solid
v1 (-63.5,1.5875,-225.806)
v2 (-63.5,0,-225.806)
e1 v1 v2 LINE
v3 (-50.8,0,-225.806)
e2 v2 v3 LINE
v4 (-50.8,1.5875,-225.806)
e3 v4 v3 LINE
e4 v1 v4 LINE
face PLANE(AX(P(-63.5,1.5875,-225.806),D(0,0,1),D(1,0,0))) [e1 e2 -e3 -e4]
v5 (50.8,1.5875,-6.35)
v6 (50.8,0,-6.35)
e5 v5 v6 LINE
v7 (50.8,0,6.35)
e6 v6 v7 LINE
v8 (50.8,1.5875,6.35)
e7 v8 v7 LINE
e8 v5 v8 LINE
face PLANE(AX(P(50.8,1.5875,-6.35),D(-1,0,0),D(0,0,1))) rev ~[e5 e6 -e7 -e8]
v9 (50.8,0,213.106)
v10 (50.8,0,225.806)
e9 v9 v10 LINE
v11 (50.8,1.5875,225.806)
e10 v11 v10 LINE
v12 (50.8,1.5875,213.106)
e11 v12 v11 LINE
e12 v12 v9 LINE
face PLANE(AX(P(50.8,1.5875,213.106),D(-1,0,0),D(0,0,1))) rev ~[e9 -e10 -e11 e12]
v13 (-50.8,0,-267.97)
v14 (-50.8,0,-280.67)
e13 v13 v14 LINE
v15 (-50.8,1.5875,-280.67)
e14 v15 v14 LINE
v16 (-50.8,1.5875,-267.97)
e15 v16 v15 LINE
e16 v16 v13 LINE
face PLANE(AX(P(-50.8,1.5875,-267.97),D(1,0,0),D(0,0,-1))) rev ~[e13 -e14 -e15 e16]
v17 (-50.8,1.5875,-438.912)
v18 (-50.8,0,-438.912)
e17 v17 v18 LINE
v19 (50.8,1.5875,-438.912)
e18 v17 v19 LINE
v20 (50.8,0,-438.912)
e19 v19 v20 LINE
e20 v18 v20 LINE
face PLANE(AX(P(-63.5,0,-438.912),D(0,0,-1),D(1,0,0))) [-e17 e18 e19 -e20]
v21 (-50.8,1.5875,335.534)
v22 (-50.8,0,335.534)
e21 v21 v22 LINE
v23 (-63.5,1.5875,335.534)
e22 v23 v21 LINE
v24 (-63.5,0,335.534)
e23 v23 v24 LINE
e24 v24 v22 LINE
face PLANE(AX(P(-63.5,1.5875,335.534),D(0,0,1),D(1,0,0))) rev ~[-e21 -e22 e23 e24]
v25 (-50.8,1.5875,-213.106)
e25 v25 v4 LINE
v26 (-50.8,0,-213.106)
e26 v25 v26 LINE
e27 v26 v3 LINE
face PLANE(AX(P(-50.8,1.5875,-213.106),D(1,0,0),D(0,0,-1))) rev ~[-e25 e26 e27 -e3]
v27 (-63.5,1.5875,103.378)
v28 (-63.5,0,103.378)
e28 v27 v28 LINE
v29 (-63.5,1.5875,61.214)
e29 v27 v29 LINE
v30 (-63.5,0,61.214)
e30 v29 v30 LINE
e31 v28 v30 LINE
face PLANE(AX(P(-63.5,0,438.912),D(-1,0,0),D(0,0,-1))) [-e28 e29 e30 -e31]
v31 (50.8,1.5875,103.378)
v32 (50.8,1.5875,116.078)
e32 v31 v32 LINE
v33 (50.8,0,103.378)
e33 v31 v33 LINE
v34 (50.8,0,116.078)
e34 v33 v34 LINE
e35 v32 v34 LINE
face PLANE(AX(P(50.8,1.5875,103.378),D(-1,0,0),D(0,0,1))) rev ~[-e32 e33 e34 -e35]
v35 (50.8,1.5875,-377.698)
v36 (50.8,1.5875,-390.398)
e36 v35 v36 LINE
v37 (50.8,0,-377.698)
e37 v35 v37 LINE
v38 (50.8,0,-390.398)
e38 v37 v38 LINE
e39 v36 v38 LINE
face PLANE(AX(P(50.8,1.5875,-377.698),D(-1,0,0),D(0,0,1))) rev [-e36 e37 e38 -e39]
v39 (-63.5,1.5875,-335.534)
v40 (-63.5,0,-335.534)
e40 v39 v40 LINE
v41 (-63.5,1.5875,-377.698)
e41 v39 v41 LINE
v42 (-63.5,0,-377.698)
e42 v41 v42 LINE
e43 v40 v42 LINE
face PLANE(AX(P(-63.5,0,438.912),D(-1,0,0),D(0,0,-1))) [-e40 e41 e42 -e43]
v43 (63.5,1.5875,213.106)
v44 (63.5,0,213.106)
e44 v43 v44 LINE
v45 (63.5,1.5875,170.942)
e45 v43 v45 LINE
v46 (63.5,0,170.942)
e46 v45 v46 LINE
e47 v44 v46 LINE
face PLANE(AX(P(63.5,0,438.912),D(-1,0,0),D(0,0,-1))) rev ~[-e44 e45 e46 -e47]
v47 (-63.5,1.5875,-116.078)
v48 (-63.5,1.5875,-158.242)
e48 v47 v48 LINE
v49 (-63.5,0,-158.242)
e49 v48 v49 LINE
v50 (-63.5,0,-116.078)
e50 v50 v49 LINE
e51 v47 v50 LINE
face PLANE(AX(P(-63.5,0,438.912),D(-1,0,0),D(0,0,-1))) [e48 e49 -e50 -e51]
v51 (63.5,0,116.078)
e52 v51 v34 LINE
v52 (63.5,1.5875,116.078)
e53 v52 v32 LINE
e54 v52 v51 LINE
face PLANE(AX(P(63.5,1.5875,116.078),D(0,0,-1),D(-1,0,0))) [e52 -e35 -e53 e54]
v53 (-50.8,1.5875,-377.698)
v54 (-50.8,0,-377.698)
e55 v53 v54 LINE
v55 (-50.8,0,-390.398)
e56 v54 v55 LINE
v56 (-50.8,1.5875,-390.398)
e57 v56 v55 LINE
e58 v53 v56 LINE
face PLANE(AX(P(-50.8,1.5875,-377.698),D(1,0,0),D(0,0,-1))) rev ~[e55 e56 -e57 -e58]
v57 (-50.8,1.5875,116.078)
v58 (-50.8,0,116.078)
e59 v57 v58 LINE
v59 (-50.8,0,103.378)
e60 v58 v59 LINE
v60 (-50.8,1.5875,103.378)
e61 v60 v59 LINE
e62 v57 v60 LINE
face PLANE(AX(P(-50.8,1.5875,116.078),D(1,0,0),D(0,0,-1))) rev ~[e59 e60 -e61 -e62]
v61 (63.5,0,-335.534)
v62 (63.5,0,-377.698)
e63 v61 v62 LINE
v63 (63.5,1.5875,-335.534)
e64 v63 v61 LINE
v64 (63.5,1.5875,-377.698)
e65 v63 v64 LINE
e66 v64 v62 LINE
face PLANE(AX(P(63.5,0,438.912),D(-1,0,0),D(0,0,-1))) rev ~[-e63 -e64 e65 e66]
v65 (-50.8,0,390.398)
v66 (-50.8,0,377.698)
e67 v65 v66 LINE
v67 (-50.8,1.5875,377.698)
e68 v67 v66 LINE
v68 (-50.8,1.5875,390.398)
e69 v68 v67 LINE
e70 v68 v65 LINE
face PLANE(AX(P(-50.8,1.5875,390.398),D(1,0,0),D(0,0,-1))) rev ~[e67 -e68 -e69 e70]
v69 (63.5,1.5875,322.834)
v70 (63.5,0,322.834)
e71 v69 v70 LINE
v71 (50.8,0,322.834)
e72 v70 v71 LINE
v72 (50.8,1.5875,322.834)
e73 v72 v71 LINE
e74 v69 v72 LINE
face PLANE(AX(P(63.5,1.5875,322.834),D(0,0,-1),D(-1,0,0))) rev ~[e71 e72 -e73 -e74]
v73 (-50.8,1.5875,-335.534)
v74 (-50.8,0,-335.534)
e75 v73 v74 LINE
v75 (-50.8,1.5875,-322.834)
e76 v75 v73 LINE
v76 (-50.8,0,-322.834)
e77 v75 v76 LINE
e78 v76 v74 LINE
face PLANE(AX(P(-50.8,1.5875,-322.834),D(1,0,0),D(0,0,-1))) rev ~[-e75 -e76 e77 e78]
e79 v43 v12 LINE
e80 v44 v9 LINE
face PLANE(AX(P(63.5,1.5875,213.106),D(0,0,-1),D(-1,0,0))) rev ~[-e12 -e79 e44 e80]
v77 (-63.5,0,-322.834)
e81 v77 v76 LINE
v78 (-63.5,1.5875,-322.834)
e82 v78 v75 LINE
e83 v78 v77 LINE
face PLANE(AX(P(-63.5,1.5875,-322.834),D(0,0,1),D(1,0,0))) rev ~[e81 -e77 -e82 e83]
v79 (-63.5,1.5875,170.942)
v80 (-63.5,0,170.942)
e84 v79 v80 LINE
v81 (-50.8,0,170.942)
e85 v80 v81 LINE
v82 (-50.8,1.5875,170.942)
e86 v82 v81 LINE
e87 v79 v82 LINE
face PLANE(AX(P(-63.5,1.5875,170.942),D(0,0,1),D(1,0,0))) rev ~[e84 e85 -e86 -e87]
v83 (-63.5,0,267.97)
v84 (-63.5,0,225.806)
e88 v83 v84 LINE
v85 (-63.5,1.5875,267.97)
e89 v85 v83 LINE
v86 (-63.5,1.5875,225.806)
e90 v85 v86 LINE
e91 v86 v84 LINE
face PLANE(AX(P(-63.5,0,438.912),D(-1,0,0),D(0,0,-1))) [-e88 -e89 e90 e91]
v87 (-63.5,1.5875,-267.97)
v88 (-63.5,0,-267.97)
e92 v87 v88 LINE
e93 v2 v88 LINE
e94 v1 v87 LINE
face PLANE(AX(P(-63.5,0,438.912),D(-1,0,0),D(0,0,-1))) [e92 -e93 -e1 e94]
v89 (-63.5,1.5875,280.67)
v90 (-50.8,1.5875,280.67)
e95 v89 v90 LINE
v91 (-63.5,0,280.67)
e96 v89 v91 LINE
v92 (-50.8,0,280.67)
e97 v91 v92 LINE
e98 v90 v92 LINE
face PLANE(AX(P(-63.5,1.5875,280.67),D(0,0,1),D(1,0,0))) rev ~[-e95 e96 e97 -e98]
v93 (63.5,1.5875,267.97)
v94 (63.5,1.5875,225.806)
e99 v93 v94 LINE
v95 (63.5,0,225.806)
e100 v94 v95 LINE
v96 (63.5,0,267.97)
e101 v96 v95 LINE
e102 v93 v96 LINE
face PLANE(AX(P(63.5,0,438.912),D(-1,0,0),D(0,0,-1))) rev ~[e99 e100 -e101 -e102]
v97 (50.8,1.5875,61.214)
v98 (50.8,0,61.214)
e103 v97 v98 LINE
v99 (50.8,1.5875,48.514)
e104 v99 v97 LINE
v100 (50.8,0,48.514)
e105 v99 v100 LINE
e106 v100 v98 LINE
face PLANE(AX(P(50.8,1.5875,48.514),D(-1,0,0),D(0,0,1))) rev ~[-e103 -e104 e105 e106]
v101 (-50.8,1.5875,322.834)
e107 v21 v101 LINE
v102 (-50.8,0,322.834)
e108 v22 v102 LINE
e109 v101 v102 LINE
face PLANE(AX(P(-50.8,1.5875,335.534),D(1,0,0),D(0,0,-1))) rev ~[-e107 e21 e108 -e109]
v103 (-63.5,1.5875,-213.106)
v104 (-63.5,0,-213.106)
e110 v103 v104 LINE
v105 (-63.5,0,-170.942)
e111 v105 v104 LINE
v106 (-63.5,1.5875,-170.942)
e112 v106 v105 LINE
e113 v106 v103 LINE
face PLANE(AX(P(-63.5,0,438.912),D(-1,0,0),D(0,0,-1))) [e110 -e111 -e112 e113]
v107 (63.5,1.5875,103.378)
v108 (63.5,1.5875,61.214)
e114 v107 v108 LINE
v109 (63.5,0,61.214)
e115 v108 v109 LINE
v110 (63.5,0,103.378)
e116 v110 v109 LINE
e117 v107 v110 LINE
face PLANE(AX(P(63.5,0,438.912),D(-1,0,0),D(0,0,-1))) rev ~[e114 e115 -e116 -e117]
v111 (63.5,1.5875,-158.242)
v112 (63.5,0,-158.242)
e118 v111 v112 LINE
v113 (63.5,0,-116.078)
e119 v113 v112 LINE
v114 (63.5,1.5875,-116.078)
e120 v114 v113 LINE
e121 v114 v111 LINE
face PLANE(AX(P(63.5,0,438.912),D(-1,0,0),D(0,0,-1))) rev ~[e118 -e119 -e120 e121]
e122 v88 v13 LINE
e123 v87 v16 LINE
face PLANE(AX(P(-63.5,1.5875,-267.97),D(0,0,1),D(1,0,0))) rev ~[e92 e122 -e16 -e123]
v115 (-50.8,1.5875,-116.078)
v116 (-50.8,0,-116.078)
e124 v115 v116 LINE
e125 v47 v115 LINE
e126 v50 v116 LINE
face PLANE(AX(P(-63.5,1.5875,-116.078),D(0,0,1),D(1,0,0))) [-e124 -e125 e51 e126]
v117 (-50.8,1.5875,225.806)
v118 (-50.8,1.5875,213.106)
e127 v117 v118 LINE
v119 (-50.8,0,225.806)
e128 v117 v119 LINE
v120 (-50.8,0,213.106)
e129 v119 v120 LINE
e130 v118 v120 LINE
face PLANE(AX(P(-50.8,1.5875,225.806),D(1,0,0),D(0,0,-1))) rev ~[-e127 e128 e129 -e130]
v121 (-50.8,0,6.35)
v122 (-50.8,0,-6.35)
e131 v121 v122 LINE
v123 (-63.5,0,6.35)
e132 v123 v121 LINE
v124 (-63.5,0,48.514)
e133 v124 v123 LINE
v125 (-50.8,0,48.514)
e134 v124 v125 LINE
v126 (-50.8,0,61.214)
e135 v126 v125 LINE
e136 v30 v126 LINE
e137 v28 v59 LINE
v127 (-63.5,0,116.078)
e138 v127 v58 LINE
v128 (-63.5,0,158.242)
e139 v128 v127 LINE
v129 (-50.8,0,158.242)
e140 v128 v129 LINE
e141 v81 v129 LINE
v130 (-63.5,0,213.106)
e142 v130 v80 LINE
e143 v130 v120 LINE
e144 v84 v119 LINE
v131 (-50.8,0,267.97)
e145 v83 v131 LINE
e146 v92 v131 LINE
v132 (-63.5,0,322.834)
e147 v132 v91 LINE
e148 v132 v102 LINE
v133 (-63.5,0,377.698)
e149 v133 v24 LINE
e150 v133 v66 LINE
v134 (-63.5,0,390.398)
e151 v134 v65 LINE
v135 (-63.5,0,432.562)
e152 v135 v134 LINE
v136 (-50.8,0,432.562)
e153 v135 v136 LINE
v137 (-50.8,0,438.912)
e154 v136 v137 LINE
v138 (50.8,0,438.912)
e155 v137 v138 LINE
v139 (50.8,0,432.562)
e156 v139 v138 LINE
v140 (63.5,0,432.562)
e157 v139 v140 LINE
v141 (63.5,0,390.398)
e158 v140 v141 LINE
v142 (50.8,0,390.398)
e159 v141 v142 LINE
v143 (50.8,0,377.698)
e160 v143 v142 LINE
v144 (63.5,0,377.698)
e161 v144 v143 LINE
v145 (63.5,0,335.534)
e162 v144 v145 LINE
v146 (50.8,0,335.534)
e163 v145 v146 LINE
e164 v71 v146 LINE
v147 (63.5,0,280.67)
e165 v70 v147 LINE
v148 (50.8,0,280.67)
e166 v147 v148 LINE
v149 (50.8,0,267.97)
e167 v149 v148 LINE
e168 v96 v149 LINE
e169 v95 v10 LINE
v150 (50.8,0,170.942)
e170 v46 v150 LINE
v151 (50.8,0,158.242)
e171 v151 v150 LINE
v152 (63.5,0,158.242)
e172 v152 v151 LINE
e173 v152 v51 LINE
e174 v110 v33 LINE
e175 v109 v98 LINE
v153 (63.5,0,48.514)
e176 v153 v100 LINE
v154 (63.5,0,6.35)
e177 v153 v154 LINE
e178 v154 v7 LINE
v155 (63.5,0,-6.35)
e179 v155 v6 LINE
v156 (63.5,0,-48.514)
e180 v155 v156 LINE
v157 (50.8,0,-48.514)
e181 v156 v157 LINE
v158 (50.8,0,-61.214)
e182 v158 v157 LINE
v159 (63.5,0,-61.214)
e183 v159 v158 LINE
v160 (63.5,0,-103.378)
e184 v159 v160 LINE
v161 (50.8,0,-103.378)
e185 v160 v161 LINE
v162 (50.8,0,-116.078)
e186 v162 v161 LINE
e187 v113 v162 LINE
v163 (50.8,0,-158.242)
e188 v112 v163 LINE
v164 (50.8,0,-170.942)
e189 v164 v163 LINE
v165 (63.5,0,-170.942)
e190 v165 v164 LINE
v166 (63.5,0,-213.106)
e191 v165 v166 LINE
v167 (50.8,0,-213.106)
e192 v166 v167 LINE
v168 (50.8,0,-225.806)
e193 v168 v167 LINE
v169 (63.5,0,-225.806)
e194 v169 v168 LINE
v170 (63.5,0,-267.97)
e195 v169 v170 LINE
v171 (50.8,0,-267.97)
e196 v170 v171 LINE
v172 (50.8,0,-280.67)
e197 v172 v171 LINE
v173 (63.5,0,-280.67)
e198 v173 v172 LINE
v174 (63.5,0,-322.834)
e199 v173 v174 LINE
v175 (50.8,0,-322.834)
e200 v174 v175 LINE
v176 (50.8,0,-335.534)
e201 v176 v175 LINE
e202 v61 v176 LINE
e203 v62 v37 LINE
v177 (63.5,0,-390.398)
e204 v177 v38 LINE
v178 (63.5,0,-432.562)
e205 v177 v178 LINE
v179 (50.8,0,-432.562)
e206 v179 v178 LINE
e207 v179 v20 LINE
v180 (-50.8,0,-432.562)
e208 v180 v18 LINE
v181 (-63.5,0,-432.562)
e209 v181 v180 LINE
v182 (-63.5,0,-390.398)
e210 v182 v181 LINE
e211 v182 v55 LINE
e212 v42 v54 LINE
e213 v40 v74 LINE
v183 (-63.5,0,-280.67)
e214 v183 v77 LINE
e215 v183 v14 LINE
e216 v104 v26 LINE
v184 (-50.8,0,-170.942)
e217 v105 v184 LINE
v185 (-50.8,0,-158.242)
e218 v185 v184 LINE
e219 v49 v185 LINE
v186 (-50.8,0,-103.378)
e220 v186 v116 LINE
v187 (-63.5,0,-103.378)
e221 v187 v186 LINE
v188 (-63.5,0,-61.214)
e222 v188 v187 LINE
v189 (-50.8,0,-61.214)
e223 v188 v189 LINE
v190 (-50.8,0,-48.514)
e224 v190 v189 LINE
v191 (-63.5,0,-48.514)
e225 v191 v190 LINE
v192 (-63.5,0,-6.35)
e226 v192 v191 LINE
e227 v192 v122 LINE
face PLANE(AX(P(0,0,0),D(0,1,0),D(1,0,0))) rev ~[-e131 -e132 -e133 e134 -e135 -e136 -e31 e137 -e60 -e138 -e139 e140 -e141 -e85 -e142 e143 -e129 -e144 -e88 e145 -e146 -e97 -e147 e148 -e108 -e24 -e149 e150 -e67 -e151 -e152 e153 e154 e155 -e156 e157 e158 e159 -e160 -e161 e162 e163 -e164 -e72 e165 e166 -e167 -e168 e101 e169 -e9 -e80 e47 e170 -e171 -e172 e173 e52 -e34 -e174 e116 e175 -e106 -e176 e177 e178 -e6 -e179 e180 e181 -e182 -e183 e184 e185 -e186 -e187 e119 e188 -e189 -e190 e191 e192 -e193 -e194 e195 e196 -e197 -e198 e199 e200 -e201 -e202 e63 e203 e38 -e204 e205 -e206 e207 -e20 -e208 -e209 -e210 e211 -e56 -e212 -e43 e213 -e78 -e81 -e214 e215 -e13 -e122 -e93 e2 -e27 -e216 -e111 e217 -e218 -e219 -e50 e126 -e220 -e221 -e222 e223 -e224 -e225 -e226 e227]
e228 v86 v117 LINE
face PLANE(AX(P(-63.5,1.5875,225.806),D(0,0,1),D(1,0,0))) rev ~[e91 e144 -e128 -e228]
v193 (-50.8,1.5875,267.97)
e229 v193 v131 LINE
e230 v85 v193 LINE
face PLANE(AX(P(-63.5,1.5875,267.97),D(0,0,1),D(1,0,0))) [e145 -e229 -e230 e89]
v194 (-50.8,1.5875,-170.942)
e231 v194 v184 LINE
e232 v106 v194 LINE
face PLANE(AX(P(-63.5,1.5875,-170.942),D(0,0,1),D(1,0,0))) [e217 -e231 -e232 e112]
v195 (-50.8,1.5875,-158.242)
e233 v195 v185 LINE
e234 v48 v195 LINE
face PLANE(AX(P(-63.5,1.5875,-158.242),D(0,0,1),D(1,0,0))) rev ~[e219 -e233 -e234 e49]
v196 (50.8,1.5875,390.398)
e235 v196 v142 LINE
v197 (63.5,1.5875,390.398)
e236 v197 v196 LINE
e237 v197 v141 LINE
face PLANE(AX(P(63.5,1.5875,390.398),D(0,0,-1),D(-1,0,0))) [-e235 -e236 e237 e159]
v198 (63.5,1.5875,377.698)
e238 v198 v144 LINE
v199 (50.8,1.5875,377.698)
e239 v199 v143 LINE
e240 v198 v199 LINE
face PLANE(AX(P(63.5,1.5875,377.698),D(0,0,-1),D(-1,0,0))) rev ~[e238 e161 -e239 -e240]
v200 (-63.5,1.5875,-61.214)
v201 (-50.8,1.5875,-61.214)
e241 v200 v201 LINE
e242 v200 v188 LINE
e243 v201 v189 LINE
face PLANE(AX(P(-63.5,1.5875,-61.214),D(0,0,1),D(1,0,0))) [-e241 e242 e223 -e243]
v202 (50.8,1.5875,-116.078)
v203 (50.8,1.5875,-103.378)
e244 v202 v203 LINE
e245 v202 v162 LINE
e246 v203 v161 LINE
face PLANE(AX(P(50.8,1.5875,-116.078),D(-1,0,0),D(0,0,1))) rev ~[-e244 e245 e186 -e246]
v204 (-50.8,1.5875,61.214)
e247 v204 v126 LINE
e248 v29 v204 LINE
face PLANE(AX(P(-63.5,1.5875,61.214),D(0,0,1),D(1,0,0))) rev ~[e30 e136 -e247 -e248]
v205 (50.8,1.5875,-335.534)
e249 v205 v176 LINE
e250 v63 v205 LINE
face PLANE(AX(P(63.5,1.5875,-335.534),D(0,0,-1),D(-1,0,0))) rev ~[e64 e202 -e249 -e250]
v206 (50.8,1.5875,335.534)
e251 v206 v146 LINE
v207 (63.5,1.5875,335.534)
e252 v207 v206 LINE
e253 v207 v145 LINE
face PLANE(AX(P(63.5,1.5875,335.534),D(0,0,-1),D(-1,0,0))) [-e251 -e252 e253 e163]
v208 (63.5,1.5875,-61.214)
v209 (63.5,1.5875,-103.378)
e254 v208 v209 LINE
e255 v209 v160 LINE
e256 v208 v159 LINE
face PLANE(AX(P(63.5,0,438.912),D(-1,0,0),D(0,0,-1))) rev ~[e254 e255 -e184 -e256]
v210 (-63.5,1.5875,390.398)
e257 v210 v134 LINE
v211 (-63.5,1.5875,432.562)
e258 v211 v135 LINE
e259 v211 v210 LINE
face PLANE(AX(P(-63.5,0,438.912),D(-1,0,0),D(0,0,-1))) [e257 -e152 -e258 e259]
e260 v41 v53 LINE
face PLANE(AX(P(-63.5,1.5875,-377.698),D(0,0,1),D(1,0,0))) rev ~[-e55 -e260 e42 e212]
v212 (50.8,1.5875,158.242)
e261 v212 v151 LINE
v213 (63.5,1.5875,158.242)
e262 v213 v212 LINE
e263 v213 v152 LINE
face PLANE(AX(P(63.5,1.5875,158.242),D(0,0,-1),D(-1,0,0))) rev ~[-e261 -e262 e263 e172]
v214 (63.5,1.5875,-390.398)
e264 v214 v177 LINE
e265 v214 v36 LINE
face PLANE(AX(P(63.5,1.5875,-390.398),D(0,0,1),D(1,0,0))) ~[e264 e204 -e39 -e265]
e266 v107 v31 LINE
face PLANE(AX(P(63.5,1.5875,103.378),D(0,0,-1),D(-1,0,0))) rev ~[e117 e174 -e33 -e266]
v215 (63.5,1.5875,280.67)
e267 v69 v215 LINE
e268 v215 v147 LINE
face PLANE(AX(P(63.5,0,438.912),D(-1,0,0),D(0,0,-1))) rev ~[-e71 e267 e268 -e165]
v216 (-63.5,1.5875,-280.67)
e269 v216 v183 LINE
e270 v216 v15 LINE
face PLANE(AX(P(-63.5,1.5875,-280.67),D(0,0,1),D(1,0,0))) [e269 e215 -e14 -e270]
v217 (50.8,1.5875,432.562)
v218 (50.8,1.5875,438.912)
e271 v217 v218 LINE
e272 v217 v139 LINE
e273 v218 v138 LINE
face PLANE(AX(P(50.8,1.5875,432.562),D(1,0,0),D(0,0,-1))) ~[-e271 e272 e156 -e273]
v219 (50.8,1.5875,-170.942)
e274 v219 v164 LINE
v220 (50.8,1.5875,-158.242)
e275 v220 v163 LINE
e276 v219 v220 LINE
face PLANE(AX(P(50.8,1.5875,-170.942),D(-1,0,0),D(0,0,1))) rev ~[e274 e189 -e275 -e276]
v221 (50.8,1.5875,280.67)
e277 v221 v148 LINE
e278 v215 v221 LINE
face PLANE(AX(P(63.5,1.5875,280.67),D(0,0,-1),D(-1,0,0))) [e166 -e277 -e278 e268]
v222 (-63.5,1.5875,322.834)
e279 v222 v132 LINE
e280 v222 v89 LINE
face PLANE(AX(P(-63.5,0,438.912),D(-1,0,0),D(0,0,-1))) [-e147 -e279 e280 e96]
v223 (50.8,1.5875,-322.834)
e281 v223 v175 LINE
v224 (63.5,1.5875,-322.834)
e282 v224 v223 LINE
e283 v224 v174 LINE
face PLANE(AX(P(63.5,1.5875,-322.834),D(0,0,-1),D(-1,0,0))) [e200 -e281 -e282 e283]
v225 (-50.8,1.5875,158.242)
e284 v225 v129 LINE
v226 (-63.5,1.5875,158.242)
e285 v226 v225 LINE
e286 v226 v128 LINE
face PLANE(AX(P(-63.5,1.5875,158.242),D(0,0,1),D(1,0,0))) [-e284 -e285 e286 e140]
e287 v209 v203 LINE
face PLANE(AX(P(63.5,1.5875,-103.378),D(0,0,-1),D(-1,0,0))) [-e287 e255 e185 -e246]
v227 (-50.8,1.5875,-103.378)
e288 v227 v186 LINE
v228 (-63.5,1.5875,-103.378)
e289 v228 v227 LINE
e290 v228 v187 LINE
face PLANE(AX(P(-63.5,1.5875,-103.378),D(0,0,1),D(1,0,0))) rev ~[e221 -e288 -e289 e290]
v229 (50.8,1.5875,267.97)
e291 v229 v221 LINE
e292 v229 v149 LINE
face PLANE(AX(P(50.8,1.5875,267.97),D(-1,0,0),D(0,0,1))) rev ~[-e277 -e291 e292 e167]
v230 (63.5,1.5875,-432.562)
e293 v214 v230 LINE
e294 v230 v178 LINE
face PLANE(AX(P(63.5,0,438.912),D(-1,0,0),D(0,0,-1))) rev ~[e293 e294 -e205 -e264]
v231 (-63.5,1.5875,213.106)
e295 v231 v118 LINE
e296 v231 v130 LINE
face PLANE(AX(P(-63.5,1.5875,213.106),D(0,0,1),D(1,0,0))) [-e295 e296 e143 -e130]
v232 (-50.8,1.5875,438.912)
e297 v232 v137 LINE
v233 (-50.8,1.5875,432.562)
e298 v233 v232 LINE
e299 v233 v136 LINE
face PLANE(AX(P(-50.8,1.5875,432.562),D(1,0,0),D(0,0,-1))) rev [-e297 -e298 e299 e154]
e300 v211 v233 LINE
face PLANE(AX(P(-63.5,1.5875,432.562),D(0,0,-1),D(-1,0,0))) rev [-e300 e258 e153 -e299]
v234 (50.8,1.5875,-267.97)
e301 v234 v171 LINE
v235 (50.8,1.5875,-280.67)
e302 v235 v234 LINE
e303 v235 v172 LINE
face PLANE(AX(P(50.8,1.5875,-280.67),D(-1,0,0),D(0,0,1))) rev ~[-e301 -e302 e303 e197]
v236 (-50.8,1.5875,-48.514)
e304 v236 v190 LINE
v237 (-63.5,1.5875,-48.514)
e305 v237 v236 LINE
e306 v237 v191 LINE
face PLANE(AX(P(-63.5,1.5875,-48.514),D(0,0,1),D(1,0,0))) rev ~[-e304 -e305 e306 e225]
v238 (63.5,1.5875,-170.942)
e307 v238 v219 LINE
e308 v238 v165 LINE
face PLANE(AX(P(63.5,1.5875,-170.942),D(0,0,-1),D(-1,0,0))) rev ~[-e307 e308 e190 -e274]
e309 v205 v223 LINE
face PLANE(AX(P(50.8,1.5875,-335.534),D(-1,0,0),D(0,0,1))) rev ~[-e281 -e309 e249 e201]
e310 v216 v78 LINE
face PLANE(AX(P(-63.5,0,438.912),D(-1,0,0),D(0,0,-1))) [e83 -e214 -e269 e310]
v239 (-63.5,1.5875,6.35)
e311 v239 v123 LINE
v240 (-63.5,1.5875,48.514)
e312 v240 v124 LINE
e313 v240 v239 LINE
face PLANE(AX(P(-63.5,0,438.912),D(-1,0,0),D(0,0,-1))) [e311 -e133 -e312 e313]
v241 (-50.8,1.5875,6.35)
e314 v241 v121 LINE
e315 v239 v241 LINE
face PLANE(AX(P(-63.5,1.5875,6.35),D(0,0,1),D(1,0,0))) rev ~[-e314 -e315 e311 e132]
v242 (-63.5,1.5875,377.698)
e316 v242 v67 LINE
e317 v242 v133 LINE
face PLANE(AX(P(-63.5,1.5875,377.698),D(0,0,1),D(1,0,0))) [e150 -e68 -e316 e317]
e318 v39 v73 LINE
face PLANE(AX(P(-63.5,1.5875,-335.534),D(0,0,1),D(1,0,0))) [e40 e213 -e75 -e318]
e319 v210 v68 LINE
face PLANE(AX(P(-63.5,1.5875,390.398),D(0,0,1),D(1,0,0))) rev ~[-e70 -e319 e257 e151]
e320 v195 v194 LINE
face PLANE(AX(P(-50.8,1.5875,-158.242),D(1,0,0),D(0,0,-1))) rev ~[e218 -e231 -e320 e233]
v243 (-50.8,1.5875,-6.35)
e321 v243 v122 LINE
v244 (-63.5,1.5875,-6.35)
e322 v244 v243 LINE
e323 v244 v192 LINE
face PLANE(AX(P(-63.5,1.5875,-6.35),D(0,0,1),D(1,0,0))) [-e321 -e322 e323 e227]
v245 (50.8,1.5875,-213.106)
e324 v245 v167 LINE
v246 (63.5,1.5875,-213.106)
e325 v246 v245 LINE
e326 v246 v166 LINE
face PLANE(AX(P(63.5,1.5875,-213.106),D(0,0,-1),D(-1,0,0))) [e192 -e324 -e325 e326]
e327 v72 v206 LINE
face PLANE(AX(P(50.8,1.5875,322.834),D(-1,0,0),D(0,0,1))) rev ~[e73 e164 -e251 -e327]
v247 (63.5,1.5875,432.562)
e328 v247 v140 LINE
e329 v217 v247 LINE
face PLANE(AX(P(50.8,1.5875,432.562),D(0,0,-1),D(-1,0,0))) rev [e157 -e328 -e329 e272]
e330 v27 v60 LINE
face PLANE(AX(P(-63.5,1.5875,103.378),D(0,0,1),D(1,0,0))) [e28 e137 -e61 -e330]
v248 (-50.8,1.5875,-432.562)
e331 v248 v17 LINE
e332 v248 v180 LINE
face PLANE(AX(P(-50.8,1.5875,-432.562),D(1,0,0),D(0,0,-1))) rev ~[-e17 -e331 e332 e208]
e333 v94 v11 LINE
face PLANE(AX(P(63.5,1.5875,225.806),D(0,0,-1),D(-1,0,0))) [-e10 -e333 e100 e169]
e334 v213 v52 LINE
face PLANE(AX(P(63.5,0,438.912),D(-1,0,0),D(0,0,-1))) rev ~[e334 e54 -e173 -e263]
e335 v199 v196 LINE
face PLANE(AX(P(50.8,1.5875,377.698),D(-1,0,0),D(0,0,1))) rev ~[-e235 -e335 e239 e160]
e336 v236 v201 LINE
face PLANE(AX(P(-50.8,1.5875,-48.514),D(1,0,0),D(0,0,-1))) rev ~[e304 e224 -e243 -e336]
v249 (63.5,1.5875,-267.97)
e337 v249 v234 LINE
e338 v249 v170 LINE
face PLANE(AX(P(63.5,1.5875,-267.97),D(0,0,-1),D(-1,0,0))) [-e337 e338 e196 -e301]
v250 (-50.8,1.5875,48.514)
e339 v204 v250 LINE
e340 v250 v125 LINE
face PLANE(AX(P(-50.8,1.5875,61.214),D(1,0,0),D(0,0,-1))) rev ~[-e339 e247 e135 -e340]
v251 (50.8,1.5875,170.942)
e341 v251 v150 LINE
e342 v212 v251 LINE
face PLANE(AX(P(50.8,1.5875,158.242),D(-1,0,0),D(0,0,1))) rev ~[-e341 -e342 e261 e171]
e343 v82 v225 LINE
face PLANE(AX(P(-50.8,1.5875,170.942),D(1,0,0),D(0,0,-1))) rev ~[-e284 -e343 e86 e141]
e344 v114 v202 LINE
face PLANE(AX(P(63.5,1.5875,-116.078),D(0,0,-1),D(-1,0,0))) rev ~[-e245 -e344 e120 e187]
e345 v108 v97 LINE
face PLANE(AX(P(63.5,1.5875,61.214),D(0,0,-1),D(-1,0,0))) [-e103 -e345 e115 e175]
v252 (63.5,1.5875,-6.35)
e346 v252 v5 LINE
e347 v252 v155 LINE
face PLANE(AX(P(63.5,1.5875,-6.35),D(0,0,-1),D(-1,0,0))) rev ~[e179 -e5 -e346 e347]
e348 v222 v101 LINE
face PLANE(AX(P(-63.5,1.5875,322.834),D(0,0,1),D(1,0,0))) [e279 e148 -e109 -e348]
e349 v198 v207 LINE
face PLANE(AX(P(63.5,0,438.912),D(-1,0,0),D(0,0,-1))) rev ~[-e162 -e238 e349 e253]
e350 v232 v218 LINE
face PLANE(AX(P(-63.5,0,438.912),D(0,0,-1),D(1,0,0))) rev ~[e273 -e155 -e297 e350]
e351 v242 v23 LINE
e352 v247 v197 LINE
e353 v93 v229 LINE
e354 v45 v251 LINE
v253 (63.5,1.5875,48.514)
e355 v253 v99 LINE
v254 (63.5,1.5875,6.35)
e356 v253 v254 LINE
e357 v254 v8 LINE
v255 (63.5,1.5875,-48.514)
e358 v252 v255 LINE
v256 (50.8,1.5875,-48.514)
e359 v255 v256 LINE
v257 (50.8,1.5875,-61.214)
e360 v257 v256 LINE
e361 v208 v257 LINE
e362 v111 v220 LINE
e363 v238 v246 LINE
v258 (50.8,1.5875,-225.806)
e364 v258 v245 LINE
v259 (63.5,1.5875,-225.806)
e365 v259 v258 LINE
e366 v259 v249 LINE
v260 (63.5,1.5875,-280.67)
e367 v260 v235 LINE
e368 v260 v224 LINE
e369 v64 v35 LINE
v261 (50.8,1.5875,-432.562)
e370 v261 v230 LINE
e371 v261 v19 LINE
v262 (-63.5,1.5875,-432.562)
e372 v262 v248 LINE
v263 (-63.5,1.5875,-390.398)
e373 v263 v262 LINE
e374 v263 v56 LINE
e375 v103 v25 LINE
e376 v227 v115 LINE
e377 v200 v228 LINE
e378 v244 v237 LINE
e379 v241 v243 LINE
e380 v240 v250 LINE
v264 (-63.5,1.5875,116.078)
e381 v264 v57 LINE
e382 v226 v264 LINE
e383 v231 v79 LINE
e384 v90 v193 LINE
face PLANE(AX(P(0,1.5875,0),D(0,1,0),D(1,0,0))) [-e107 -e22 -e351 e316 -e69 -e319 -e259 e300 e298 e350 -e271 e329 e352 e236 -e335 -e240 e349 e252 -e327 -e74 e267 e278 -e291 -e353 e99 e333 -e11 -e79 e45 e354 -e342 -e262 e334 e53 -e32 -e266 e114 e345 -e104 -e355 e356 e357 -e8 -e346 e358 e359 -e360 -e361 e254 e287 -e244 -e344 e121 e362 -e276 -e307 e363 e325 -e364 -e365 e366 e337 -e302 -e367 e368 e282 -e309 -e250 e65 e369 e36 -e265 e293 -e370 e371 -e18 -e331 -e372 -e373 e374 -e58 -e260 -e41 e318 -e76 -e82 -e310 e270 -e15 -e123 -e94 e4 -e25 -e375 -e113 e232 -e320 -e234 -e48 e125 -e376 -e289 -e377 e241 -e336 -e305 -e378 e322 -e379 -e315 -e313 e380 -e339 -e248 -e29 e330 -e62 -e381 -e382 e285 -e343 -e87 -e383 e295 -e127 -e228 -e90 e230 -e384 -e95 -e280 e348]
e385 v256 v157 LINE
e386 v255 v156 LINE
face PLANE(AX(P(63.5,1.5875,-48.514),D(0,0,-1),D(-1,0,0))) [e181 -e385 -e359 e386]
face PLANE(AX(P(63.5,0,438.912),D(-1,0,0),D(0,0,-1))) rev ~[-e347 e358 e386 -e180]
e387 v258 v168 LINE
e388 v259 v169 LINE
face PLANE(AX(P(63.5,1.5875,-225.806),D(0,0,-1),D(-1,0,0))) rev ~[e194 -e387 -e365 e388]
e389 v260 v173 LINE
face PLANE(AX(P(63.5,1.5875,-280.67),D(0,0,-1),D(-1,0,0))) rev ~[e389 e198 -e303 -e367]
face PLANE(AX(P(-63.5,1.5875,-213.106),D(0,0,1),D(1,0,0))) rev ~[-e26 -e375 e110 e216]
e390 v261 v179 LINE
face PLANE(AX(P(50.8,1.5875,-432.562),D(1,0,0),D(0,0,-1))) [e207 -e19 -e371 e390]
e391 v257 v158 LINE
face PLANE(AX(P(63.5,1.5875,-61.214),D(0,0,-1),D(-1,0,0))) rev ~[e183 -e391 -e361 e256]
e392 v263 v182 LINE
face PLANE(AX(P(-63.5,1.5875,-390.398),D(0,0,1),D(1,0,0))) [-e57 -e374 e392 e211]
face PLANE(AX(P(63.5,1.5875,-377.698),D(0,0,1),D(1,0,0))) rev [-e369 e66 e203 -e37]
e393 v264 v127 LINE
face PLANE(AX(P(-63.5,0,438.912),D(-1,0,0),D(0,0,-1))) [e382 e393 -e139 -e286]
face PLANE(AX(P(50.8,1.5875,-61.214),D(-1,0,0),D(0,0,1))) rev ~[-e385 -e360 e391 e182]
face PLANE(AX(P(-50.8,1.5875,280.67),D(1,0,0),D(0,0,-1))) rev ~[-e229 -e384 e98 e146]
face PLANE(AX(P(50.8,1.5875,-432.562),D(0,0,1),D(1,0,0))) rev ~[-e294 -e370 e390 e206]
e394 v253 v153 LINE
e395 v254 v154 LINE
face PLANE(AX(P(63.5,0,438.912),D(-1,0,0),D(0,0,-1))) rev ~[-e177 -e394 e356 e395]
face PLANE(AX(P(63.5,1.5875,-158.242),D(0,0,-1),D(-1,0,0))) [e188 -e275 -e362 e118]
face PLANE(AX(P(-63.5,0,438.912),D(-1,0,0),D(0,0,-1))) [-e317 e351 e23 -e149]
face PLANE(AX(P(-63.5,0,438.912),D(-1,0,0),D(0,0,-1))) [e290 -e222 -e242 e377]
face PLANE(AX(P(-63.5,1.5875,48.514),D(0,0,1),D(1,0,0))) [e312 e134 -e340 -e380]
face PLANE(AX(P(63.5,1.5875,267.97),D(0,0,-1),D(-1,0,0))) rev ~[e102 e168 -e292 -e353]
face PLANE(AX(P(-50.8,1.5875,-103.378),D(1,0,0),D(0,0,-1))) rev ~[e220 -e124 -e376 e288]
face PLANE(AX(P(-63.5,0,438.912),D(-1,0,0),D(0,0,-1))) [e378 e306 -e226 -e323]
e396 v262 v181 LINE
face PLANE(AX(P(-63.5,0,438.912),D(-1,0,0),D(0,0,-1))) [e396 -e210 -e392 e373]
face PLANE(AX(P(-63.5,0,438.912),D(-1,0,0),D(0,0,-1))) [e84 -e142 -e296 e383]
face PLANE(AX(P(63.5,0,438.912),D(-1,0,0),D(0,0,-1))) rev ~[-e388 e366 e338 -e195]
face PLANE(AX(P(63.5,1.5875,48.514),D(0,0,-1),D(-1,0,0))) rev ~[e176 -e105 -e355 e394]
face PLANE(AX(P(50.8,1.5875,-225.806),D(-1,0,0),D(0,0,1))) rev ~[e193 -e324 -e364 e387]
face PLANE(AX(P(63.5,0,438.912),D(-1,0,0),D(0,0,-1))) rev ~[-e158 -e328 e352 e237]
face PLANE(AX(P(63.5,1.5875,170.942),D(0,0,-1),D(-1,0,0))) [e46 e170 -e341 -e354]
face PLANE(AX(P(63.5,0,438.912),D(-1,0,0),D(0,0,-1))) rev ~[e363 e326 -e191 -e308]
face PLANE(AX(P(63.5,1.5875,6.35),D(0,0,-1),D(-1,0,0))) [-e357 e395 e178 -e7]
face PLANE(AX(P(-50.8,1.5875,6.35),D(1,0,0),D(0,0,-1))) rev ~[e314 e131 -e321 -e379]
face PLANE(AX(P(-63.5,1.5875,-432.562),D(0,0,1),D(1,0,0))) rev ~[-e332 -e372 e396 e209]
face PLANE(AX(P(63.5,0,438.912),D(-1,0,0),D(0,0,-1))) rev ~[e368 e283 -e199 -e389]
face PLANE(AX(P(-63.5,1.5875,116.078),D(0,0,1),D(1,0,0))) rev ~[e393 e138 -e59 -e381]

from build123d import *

# Parameters (mm, degrees)
SKETCH1_W                  = 127
SKETCH1_H                  = 877.824
BOSS_EXTRUDE1_DEPTH        = 1.5875
SKETCH2_W                  = 12.7
SKETCH2_H                  = 6.35
CUT_EXTRUDE1_DEPTH         = 444.48451371
SKETCH3_W                  = 12.7
SKETCH3_H                  = 12.7
CUT_EXTRUDE2_DEPTH         = 444.48451371
LPATTERN1_COUNT            = 15
LPATTERN1_PITCH            = 54.864
LPATTERN1_COPY_1_SKETCH_W  = 12.7
LPATTERN1_COPY_1_SKETCH_H  = 12.7
LPATTERN1_COPY_1_DEPTH     = 444.48451371
LPATTERN1_COPY_2_SKETCH_W  = 12.7
LPATTERN1_COPY_2_SKETCH_H  = 12.7
LPATTERN1_COPY_2_DEPTH     = 444.48451371
LPATTERN1_COPY_3_SKETCH_W  = 12.7
LPATTERN1_COPY_3_SKETCH_H  = 12.7
LPATTERN1_COPY_3_DEPTH     = 444.48451371
LPATTERN1_COPY_4_SKETCH_W  = 12.7
LPATTERN1_COPY_4_SKETCH_H  = 12.7
LPATTERN1_COPY_4_DEPTH     = 444.48451371
LPATTERN1_COPY_5_SKETCH_W  = 12.7
LPATTERN1_COPY_5_SKETCH_H  = 12.7
LPATTERN1_COPY_5_DEPTH     = 444.48451371
LPATTERN1_COPY_6_SKETCH_W  = 12.7
LPATTERN1_COPY_6_SKETCH_H  = 12.7
LPATTERN1_COPY_6_DEPTH     = 444.48451371
LPATTERN1_COPY_7_SKETCH_W  = 12.7
LPATTERN1_COPY_7_SKETCH_H  = 12.7
LPATTERN1_COPY_7_DEPTH     = 444.48451371
LPATTERN1_COPY_8_SKETCH_W  = 12.7
LPATTERN1_COPY_8_SKETCH_H  = 12.7
LPATTERN1_COPY_8_DEPTH     = 444.48451371
LPATTERN1_COPY_9_SKETCH_W  = 12.7
LPATTERN1_COPY_9_SKETCH_H  = 12.7
LPATTERN1_COPY_9_DEPTH     = 444.48451371
LPATTERN1_COPY_10_SKETCH_W = 12.7
LPATTERN1_COPY_10_SKETCH_H = 12.7
LPATTERN1_COPY_10_DEPTH    = 444.48451371
LPATTERN1_COPY_11_SKETCH_W = 12.7
LPATTERN1_COPY_11_SKETCH_H = 12.7
LPATTERN1_COPY_11_DEPTH    = 444.48451371
LPATTERN1_COPY_12_SKETCH_W = 12.7
LPATTERN1_COPY_12_SKETCH_H = 12.7
LPATTERN1_COPY_12_DEPTH    = 444.48451371
LPATTERN1_COPY_13_SKETCH_W = 12.7
LPATTERN1_COPY_13_SKETCH_H = 12.7
LPATTERN1_COPY_13_DEPTH    = 444.48451371
LPATTERN1_COPY_14_SKETCH_W = 12.7
LPATTERN1_COPY_14_SKETCH_H = 12.7
LPATTERN1_COPY_14_DEPTH    = 444.48451371


with BuildPart() as part:
    # Sketch1 → Boss-Extrude1 (new body)
    with BuildSketch(Plane(origin=(0, 0, 0), x_dir=(1, 0, 0), z_dir=(0, 1, 0))):
        Rectangle(SKETCH1_W, SKETCH1_H)
    extrude(amount=BOSS_EXTRUDE1_DEPTH)

    # Sketch2 → Cut-Extrude1 (cut, through all)
    with BuildSketch(Plane(origin=(0, 1.5875, 0), x_dir=(1, 0, 0), z_dir=(0, 1, 0))):
        with Locations((-57.15, 435.737)):
            Rectangle(SKETCH2_W, SKETCH2_H)
        with Locations((57.15, 435.737)):
            Rectangle(SKETCH2_W, SKETCH2_H)
    cut_extrude1 = extrude(amount=-CUT_EXTRUDE1_DEPTH, mode=Mode.SUBTRACT)

    # Mirror1: Cut-Extrude1 across plane
    add(cut_extrude1.mirror(Plane.XY), mode=Mode.SUBTRACT)

    # Sketch3 → Cut-Extrude2 (cut, through all)
    with BuildSketch(Plane(origin=(0, 1.5875, 0), x_dir=(1, 0, 0), z_dir=(0, 1, 0))):
        with Locations((-57.15, 384.048)):
            Rectangle(SKETCH3_W, SKETCH3_H)
    cut_extrude2 = extrude(amount=-CUT_EXTRUDE2_DEPTH, mode=Mode.SUBTRACT)

    # Mirror2: Cut-Extrude2 across plane
    add(cut_extrude2.mirror(Plane(origin=(0, 0, 0), x_dir=(0, 0, 1), z_dir=(1, 0, 0))), mode=Mode.SUBTRACT)

    # LPattern1: Cut-Extrude2 ×15
    with Locations(*[(0, 0, i * LPATTERN1_PITCH) for i in range(1, LPATTERN1_COUNT)]):
        add(cut_extrude2, mode=Mode.SUBTRACT)

    # LPattern1 copy 1 sketch → LPattern1 copy 1 (cut, through all)
    with BuildSketch(Plane(origin=(0, 1.5875, 54.864), x_dir=(-1, 0, 0), z_dir=(0, 1, 0))):
        with Locations((-57.15, -384.048)):
            Rectangle(LPATTERN1_COPY_1_SKETCH_W, LPATTERN1_COPY_1_SKETCH_H)
    extrude(amount=-LPATTERN1_COPY_1_DEPTH, mode=Mode.SUBTRACT)

    # LPattern1 copy 2 sketch → LPattern1 copy 2 (cut, through all)
    with BuildSketch(Plane(origin=(0, 1.5875, 109.728), x_dir=(-1, 0, 0), z_dir=(0, 1, 0))):
        with Locations((-57.15, -384.048)):
            Rectangle(LPATTERN1_COPY_2_SKETCH_W, LPATTERN1_COPY_2_SKETCH_H)
    extrude(amount=-LPATTERN1_COPY_2_DEPTH, mode=Mode.SUBTRACT)

    # LPattern1 copy 3 sketch → LPattern1 copy 3 (cut, through all)
    with BuildSketch(Plane(origin=(0, 1.5875, 164.592), x_dir=(-1, 0, 0), z_dir=(0, 1, 0))):
        with Locations((-57.15, -384.048)):
            Rectangle(LPATTERN1_COPY_3_SKETCH_W, LPATTERN1_COPY_3_SKETCH_H)
    extrude(amount=-LPATTERN1_COPY_3_DEPTH, mode=Mode.SUBTRACT)

    # LPattern1 copy 4 sketch → LPattern1 copy 4 (cut, through all)
    with BuildSketch(Plane(origin=(0, 1.5875, 219.456), x_dir=(-1, 0, 0), z_dir=(0, 1, 0))):
        with Locations((-57.15, -384.048)):
            Rectangle(LPATTERN1_COPY_4_SKETCH_W, LPATTERN1_COPY_4_SKETCH_H)
    extrude(amount=-LPATTERN1_COPY_4_DEPTH, mode=Mode.SUBTRACT)

    # LPattern1 copy 5 sketch → LPattern1 copy 5 (cut, through all)
    with BuildSketch(Plane(origin=(0, 1.5875, 274.32), x_dir=(-1, 0, 0), z_dir=(0, 1, 0))):
        with Locations((-57.15, -384.048)):
            Rectangle(LPATTERN1_COPY_5_SKETCH_W, LPATTERN1_COPY_5_SKETCH_H)
    extrude(amount=-LPATTERN1_COPY_5_DEPTH, mode=Mode.SUBTRACT)

    # LPattern1 copy 6 sketch → LPattern1 copy 6 (cut, through all)
    with BuildSketch(Plane(origin=(0, 1.5875, 329.184), x_dir=(-1, 0, 0), z_dir=(0, 1, 0))):
        with Locations((-57.15, -384.048)):
            Rectangle(LPATTERN1_COPY_6_SKETCH_W, LPATTERN1_COPY_6_SKETCH_H)
    extrude(amount=-LPATTERN1_COPY_6_DEPTH, mode=Mode.SUBTRACT)

    # LPattern1 copy 7 sketch → LPattern1 copy 7 (cut, through all)
    with BuildSketch(Plane(origin=(0, 1.5875, 384.048), x_dir=(-1, 0, 0), z_dir=(0, 1, 0))):
        with Locations((-57.15, -384.048)):
            Rectangle(LPATTERN1_COPY_7_SKETCH_W, LPATTERN1_COPY_7_SKETCH_H)
    extrude(amount=-LPATTERN1_COPY_7_DEPTH, mode=Mode.SUBTRACT)

    # LPattern1 copy 8 sketch → LPattern1 copy 8 (cut, through all)
    with BuildSketch(Plane(origin=(0, 1.5875, 438.912), x_dir=(-1, 0, 0), z_dir=(0, 1, 0))):
        with Locations((-57.15, -384.048)):
            Rectangle(LPATTERN1_COPY_8_SKETCH_W, LPATTERN1_COPY_8_SKETCH_H)
    extrude(amount=-LPATTERN1_COPY_8_DEPTH, mode=Mode.SUBTRACT)

    # LPattern1 copy 9 sketch → LPattern1 copy 9 (cut, through all)
    with BuildSketch(Plane(origin=(0, 1.5875, 493.776), x_dir=(-1, 0, 0), z_dir=(0, 1, 0))):
        with Locations((-57.15, -384.048)):
            Rectangle(LPATTERN1_COPY_9_SKETCH_W, LPATTERN1_COPY_9_SKETCH_H)
    extrude(amount=-LPATTERN1_COPY_9_DEPTH, mode=Mode.SUBTRACT)

    # LPattern1 copy 10 sketch → LPattern1 copy 10 (cut, through all)
    with BuildSketch(Plane(origin=(0, 1.5875, 548.64), x_dir=(-1, 0, 0), z_dir=(0, 1, 0))):
        with Locations((-57.15, -384.048)):
            Rectangle(LPATTERN1_COPY_10_SKETCH_W, LPATTERN1_COPY_10_SKETCH_H)
    extrude(amount=-LPATTERN1_COPY_10_DEPTH, mode=Mode.SUBTRACT)

    # LPattern1 copy 11 sketch → LPattern1 copy 11 (cut, through all)
    with BuildSketch(Plane(origin=(0, 1.5875, 603.504), x_dir=(-1, 0, 0), z_dir=(0, 1, 0))):
        with Locations((-57.15, -384.048)):
            Rectangle(LPATTERN1_COPY_11_SKETCH_W, LPATTERN1_COPY_11_SKETCH_H)
    extrude(amount=-LPATTERN1_COPY_11_DEPTH, mode=Mode.SUBTRACT)

    # LPattern1 copy 12 sketch → LPattern1 copy 12 (cut, through all)
    with BuildSketch(Plane(origin=(0, 1.5875, 658.368), x_dir=(-1, 0, 0), z_dir=(0, 1, 0))):
        with Locations((-57.15, -384.048)):
            Rectangle(LPATTERN1_COPY_12_SKETCH_W, LPATTERN1_COPY_12_SKETCH_H)
    extrude(amount=-LPATTERN1_COPY_12_DEPTH, mode=Mode.SUBTRACT)

    # LPattern1 copy 13 sketch → LPattern1 copy 13 (cut, through all)
    with BuildSketch(Plane(origin=(0, 1.5875, 713.232), x_dir=(-1, 0, 0), z_dir=(0, 1, 0))):
        with Locations((-57.15, -384.048)):
            Rectangle(LPATTERN1_COPY_13_SKETCH_W, LPATTERN1_COPY_13_SKETCH_H)
    extrude(amount=-LPATTERN1_COPY_13_DEPTH, mode=Mode.SUBTRACT)

    # LPattern1 copy 14 sketch → LPattern1 copy 14 (cut, through all)
    with BuildSketch(Plane(origin=(0, 1.5875, 768.096), x_dir=(-1, 0, 0), z_dir=(0, 1, 0))):
        with Locations((-57.15, -384.048)):
            Rectangle(LPATTERN1_COPY_14_SKETCH_W, LPATTERN1_COPY_14_SKETCH_H)
    extrude(amount=-LPATTERN1_COPY_14_DEPTH, mode=Mode.SUBTRACT)


solid = part.part
